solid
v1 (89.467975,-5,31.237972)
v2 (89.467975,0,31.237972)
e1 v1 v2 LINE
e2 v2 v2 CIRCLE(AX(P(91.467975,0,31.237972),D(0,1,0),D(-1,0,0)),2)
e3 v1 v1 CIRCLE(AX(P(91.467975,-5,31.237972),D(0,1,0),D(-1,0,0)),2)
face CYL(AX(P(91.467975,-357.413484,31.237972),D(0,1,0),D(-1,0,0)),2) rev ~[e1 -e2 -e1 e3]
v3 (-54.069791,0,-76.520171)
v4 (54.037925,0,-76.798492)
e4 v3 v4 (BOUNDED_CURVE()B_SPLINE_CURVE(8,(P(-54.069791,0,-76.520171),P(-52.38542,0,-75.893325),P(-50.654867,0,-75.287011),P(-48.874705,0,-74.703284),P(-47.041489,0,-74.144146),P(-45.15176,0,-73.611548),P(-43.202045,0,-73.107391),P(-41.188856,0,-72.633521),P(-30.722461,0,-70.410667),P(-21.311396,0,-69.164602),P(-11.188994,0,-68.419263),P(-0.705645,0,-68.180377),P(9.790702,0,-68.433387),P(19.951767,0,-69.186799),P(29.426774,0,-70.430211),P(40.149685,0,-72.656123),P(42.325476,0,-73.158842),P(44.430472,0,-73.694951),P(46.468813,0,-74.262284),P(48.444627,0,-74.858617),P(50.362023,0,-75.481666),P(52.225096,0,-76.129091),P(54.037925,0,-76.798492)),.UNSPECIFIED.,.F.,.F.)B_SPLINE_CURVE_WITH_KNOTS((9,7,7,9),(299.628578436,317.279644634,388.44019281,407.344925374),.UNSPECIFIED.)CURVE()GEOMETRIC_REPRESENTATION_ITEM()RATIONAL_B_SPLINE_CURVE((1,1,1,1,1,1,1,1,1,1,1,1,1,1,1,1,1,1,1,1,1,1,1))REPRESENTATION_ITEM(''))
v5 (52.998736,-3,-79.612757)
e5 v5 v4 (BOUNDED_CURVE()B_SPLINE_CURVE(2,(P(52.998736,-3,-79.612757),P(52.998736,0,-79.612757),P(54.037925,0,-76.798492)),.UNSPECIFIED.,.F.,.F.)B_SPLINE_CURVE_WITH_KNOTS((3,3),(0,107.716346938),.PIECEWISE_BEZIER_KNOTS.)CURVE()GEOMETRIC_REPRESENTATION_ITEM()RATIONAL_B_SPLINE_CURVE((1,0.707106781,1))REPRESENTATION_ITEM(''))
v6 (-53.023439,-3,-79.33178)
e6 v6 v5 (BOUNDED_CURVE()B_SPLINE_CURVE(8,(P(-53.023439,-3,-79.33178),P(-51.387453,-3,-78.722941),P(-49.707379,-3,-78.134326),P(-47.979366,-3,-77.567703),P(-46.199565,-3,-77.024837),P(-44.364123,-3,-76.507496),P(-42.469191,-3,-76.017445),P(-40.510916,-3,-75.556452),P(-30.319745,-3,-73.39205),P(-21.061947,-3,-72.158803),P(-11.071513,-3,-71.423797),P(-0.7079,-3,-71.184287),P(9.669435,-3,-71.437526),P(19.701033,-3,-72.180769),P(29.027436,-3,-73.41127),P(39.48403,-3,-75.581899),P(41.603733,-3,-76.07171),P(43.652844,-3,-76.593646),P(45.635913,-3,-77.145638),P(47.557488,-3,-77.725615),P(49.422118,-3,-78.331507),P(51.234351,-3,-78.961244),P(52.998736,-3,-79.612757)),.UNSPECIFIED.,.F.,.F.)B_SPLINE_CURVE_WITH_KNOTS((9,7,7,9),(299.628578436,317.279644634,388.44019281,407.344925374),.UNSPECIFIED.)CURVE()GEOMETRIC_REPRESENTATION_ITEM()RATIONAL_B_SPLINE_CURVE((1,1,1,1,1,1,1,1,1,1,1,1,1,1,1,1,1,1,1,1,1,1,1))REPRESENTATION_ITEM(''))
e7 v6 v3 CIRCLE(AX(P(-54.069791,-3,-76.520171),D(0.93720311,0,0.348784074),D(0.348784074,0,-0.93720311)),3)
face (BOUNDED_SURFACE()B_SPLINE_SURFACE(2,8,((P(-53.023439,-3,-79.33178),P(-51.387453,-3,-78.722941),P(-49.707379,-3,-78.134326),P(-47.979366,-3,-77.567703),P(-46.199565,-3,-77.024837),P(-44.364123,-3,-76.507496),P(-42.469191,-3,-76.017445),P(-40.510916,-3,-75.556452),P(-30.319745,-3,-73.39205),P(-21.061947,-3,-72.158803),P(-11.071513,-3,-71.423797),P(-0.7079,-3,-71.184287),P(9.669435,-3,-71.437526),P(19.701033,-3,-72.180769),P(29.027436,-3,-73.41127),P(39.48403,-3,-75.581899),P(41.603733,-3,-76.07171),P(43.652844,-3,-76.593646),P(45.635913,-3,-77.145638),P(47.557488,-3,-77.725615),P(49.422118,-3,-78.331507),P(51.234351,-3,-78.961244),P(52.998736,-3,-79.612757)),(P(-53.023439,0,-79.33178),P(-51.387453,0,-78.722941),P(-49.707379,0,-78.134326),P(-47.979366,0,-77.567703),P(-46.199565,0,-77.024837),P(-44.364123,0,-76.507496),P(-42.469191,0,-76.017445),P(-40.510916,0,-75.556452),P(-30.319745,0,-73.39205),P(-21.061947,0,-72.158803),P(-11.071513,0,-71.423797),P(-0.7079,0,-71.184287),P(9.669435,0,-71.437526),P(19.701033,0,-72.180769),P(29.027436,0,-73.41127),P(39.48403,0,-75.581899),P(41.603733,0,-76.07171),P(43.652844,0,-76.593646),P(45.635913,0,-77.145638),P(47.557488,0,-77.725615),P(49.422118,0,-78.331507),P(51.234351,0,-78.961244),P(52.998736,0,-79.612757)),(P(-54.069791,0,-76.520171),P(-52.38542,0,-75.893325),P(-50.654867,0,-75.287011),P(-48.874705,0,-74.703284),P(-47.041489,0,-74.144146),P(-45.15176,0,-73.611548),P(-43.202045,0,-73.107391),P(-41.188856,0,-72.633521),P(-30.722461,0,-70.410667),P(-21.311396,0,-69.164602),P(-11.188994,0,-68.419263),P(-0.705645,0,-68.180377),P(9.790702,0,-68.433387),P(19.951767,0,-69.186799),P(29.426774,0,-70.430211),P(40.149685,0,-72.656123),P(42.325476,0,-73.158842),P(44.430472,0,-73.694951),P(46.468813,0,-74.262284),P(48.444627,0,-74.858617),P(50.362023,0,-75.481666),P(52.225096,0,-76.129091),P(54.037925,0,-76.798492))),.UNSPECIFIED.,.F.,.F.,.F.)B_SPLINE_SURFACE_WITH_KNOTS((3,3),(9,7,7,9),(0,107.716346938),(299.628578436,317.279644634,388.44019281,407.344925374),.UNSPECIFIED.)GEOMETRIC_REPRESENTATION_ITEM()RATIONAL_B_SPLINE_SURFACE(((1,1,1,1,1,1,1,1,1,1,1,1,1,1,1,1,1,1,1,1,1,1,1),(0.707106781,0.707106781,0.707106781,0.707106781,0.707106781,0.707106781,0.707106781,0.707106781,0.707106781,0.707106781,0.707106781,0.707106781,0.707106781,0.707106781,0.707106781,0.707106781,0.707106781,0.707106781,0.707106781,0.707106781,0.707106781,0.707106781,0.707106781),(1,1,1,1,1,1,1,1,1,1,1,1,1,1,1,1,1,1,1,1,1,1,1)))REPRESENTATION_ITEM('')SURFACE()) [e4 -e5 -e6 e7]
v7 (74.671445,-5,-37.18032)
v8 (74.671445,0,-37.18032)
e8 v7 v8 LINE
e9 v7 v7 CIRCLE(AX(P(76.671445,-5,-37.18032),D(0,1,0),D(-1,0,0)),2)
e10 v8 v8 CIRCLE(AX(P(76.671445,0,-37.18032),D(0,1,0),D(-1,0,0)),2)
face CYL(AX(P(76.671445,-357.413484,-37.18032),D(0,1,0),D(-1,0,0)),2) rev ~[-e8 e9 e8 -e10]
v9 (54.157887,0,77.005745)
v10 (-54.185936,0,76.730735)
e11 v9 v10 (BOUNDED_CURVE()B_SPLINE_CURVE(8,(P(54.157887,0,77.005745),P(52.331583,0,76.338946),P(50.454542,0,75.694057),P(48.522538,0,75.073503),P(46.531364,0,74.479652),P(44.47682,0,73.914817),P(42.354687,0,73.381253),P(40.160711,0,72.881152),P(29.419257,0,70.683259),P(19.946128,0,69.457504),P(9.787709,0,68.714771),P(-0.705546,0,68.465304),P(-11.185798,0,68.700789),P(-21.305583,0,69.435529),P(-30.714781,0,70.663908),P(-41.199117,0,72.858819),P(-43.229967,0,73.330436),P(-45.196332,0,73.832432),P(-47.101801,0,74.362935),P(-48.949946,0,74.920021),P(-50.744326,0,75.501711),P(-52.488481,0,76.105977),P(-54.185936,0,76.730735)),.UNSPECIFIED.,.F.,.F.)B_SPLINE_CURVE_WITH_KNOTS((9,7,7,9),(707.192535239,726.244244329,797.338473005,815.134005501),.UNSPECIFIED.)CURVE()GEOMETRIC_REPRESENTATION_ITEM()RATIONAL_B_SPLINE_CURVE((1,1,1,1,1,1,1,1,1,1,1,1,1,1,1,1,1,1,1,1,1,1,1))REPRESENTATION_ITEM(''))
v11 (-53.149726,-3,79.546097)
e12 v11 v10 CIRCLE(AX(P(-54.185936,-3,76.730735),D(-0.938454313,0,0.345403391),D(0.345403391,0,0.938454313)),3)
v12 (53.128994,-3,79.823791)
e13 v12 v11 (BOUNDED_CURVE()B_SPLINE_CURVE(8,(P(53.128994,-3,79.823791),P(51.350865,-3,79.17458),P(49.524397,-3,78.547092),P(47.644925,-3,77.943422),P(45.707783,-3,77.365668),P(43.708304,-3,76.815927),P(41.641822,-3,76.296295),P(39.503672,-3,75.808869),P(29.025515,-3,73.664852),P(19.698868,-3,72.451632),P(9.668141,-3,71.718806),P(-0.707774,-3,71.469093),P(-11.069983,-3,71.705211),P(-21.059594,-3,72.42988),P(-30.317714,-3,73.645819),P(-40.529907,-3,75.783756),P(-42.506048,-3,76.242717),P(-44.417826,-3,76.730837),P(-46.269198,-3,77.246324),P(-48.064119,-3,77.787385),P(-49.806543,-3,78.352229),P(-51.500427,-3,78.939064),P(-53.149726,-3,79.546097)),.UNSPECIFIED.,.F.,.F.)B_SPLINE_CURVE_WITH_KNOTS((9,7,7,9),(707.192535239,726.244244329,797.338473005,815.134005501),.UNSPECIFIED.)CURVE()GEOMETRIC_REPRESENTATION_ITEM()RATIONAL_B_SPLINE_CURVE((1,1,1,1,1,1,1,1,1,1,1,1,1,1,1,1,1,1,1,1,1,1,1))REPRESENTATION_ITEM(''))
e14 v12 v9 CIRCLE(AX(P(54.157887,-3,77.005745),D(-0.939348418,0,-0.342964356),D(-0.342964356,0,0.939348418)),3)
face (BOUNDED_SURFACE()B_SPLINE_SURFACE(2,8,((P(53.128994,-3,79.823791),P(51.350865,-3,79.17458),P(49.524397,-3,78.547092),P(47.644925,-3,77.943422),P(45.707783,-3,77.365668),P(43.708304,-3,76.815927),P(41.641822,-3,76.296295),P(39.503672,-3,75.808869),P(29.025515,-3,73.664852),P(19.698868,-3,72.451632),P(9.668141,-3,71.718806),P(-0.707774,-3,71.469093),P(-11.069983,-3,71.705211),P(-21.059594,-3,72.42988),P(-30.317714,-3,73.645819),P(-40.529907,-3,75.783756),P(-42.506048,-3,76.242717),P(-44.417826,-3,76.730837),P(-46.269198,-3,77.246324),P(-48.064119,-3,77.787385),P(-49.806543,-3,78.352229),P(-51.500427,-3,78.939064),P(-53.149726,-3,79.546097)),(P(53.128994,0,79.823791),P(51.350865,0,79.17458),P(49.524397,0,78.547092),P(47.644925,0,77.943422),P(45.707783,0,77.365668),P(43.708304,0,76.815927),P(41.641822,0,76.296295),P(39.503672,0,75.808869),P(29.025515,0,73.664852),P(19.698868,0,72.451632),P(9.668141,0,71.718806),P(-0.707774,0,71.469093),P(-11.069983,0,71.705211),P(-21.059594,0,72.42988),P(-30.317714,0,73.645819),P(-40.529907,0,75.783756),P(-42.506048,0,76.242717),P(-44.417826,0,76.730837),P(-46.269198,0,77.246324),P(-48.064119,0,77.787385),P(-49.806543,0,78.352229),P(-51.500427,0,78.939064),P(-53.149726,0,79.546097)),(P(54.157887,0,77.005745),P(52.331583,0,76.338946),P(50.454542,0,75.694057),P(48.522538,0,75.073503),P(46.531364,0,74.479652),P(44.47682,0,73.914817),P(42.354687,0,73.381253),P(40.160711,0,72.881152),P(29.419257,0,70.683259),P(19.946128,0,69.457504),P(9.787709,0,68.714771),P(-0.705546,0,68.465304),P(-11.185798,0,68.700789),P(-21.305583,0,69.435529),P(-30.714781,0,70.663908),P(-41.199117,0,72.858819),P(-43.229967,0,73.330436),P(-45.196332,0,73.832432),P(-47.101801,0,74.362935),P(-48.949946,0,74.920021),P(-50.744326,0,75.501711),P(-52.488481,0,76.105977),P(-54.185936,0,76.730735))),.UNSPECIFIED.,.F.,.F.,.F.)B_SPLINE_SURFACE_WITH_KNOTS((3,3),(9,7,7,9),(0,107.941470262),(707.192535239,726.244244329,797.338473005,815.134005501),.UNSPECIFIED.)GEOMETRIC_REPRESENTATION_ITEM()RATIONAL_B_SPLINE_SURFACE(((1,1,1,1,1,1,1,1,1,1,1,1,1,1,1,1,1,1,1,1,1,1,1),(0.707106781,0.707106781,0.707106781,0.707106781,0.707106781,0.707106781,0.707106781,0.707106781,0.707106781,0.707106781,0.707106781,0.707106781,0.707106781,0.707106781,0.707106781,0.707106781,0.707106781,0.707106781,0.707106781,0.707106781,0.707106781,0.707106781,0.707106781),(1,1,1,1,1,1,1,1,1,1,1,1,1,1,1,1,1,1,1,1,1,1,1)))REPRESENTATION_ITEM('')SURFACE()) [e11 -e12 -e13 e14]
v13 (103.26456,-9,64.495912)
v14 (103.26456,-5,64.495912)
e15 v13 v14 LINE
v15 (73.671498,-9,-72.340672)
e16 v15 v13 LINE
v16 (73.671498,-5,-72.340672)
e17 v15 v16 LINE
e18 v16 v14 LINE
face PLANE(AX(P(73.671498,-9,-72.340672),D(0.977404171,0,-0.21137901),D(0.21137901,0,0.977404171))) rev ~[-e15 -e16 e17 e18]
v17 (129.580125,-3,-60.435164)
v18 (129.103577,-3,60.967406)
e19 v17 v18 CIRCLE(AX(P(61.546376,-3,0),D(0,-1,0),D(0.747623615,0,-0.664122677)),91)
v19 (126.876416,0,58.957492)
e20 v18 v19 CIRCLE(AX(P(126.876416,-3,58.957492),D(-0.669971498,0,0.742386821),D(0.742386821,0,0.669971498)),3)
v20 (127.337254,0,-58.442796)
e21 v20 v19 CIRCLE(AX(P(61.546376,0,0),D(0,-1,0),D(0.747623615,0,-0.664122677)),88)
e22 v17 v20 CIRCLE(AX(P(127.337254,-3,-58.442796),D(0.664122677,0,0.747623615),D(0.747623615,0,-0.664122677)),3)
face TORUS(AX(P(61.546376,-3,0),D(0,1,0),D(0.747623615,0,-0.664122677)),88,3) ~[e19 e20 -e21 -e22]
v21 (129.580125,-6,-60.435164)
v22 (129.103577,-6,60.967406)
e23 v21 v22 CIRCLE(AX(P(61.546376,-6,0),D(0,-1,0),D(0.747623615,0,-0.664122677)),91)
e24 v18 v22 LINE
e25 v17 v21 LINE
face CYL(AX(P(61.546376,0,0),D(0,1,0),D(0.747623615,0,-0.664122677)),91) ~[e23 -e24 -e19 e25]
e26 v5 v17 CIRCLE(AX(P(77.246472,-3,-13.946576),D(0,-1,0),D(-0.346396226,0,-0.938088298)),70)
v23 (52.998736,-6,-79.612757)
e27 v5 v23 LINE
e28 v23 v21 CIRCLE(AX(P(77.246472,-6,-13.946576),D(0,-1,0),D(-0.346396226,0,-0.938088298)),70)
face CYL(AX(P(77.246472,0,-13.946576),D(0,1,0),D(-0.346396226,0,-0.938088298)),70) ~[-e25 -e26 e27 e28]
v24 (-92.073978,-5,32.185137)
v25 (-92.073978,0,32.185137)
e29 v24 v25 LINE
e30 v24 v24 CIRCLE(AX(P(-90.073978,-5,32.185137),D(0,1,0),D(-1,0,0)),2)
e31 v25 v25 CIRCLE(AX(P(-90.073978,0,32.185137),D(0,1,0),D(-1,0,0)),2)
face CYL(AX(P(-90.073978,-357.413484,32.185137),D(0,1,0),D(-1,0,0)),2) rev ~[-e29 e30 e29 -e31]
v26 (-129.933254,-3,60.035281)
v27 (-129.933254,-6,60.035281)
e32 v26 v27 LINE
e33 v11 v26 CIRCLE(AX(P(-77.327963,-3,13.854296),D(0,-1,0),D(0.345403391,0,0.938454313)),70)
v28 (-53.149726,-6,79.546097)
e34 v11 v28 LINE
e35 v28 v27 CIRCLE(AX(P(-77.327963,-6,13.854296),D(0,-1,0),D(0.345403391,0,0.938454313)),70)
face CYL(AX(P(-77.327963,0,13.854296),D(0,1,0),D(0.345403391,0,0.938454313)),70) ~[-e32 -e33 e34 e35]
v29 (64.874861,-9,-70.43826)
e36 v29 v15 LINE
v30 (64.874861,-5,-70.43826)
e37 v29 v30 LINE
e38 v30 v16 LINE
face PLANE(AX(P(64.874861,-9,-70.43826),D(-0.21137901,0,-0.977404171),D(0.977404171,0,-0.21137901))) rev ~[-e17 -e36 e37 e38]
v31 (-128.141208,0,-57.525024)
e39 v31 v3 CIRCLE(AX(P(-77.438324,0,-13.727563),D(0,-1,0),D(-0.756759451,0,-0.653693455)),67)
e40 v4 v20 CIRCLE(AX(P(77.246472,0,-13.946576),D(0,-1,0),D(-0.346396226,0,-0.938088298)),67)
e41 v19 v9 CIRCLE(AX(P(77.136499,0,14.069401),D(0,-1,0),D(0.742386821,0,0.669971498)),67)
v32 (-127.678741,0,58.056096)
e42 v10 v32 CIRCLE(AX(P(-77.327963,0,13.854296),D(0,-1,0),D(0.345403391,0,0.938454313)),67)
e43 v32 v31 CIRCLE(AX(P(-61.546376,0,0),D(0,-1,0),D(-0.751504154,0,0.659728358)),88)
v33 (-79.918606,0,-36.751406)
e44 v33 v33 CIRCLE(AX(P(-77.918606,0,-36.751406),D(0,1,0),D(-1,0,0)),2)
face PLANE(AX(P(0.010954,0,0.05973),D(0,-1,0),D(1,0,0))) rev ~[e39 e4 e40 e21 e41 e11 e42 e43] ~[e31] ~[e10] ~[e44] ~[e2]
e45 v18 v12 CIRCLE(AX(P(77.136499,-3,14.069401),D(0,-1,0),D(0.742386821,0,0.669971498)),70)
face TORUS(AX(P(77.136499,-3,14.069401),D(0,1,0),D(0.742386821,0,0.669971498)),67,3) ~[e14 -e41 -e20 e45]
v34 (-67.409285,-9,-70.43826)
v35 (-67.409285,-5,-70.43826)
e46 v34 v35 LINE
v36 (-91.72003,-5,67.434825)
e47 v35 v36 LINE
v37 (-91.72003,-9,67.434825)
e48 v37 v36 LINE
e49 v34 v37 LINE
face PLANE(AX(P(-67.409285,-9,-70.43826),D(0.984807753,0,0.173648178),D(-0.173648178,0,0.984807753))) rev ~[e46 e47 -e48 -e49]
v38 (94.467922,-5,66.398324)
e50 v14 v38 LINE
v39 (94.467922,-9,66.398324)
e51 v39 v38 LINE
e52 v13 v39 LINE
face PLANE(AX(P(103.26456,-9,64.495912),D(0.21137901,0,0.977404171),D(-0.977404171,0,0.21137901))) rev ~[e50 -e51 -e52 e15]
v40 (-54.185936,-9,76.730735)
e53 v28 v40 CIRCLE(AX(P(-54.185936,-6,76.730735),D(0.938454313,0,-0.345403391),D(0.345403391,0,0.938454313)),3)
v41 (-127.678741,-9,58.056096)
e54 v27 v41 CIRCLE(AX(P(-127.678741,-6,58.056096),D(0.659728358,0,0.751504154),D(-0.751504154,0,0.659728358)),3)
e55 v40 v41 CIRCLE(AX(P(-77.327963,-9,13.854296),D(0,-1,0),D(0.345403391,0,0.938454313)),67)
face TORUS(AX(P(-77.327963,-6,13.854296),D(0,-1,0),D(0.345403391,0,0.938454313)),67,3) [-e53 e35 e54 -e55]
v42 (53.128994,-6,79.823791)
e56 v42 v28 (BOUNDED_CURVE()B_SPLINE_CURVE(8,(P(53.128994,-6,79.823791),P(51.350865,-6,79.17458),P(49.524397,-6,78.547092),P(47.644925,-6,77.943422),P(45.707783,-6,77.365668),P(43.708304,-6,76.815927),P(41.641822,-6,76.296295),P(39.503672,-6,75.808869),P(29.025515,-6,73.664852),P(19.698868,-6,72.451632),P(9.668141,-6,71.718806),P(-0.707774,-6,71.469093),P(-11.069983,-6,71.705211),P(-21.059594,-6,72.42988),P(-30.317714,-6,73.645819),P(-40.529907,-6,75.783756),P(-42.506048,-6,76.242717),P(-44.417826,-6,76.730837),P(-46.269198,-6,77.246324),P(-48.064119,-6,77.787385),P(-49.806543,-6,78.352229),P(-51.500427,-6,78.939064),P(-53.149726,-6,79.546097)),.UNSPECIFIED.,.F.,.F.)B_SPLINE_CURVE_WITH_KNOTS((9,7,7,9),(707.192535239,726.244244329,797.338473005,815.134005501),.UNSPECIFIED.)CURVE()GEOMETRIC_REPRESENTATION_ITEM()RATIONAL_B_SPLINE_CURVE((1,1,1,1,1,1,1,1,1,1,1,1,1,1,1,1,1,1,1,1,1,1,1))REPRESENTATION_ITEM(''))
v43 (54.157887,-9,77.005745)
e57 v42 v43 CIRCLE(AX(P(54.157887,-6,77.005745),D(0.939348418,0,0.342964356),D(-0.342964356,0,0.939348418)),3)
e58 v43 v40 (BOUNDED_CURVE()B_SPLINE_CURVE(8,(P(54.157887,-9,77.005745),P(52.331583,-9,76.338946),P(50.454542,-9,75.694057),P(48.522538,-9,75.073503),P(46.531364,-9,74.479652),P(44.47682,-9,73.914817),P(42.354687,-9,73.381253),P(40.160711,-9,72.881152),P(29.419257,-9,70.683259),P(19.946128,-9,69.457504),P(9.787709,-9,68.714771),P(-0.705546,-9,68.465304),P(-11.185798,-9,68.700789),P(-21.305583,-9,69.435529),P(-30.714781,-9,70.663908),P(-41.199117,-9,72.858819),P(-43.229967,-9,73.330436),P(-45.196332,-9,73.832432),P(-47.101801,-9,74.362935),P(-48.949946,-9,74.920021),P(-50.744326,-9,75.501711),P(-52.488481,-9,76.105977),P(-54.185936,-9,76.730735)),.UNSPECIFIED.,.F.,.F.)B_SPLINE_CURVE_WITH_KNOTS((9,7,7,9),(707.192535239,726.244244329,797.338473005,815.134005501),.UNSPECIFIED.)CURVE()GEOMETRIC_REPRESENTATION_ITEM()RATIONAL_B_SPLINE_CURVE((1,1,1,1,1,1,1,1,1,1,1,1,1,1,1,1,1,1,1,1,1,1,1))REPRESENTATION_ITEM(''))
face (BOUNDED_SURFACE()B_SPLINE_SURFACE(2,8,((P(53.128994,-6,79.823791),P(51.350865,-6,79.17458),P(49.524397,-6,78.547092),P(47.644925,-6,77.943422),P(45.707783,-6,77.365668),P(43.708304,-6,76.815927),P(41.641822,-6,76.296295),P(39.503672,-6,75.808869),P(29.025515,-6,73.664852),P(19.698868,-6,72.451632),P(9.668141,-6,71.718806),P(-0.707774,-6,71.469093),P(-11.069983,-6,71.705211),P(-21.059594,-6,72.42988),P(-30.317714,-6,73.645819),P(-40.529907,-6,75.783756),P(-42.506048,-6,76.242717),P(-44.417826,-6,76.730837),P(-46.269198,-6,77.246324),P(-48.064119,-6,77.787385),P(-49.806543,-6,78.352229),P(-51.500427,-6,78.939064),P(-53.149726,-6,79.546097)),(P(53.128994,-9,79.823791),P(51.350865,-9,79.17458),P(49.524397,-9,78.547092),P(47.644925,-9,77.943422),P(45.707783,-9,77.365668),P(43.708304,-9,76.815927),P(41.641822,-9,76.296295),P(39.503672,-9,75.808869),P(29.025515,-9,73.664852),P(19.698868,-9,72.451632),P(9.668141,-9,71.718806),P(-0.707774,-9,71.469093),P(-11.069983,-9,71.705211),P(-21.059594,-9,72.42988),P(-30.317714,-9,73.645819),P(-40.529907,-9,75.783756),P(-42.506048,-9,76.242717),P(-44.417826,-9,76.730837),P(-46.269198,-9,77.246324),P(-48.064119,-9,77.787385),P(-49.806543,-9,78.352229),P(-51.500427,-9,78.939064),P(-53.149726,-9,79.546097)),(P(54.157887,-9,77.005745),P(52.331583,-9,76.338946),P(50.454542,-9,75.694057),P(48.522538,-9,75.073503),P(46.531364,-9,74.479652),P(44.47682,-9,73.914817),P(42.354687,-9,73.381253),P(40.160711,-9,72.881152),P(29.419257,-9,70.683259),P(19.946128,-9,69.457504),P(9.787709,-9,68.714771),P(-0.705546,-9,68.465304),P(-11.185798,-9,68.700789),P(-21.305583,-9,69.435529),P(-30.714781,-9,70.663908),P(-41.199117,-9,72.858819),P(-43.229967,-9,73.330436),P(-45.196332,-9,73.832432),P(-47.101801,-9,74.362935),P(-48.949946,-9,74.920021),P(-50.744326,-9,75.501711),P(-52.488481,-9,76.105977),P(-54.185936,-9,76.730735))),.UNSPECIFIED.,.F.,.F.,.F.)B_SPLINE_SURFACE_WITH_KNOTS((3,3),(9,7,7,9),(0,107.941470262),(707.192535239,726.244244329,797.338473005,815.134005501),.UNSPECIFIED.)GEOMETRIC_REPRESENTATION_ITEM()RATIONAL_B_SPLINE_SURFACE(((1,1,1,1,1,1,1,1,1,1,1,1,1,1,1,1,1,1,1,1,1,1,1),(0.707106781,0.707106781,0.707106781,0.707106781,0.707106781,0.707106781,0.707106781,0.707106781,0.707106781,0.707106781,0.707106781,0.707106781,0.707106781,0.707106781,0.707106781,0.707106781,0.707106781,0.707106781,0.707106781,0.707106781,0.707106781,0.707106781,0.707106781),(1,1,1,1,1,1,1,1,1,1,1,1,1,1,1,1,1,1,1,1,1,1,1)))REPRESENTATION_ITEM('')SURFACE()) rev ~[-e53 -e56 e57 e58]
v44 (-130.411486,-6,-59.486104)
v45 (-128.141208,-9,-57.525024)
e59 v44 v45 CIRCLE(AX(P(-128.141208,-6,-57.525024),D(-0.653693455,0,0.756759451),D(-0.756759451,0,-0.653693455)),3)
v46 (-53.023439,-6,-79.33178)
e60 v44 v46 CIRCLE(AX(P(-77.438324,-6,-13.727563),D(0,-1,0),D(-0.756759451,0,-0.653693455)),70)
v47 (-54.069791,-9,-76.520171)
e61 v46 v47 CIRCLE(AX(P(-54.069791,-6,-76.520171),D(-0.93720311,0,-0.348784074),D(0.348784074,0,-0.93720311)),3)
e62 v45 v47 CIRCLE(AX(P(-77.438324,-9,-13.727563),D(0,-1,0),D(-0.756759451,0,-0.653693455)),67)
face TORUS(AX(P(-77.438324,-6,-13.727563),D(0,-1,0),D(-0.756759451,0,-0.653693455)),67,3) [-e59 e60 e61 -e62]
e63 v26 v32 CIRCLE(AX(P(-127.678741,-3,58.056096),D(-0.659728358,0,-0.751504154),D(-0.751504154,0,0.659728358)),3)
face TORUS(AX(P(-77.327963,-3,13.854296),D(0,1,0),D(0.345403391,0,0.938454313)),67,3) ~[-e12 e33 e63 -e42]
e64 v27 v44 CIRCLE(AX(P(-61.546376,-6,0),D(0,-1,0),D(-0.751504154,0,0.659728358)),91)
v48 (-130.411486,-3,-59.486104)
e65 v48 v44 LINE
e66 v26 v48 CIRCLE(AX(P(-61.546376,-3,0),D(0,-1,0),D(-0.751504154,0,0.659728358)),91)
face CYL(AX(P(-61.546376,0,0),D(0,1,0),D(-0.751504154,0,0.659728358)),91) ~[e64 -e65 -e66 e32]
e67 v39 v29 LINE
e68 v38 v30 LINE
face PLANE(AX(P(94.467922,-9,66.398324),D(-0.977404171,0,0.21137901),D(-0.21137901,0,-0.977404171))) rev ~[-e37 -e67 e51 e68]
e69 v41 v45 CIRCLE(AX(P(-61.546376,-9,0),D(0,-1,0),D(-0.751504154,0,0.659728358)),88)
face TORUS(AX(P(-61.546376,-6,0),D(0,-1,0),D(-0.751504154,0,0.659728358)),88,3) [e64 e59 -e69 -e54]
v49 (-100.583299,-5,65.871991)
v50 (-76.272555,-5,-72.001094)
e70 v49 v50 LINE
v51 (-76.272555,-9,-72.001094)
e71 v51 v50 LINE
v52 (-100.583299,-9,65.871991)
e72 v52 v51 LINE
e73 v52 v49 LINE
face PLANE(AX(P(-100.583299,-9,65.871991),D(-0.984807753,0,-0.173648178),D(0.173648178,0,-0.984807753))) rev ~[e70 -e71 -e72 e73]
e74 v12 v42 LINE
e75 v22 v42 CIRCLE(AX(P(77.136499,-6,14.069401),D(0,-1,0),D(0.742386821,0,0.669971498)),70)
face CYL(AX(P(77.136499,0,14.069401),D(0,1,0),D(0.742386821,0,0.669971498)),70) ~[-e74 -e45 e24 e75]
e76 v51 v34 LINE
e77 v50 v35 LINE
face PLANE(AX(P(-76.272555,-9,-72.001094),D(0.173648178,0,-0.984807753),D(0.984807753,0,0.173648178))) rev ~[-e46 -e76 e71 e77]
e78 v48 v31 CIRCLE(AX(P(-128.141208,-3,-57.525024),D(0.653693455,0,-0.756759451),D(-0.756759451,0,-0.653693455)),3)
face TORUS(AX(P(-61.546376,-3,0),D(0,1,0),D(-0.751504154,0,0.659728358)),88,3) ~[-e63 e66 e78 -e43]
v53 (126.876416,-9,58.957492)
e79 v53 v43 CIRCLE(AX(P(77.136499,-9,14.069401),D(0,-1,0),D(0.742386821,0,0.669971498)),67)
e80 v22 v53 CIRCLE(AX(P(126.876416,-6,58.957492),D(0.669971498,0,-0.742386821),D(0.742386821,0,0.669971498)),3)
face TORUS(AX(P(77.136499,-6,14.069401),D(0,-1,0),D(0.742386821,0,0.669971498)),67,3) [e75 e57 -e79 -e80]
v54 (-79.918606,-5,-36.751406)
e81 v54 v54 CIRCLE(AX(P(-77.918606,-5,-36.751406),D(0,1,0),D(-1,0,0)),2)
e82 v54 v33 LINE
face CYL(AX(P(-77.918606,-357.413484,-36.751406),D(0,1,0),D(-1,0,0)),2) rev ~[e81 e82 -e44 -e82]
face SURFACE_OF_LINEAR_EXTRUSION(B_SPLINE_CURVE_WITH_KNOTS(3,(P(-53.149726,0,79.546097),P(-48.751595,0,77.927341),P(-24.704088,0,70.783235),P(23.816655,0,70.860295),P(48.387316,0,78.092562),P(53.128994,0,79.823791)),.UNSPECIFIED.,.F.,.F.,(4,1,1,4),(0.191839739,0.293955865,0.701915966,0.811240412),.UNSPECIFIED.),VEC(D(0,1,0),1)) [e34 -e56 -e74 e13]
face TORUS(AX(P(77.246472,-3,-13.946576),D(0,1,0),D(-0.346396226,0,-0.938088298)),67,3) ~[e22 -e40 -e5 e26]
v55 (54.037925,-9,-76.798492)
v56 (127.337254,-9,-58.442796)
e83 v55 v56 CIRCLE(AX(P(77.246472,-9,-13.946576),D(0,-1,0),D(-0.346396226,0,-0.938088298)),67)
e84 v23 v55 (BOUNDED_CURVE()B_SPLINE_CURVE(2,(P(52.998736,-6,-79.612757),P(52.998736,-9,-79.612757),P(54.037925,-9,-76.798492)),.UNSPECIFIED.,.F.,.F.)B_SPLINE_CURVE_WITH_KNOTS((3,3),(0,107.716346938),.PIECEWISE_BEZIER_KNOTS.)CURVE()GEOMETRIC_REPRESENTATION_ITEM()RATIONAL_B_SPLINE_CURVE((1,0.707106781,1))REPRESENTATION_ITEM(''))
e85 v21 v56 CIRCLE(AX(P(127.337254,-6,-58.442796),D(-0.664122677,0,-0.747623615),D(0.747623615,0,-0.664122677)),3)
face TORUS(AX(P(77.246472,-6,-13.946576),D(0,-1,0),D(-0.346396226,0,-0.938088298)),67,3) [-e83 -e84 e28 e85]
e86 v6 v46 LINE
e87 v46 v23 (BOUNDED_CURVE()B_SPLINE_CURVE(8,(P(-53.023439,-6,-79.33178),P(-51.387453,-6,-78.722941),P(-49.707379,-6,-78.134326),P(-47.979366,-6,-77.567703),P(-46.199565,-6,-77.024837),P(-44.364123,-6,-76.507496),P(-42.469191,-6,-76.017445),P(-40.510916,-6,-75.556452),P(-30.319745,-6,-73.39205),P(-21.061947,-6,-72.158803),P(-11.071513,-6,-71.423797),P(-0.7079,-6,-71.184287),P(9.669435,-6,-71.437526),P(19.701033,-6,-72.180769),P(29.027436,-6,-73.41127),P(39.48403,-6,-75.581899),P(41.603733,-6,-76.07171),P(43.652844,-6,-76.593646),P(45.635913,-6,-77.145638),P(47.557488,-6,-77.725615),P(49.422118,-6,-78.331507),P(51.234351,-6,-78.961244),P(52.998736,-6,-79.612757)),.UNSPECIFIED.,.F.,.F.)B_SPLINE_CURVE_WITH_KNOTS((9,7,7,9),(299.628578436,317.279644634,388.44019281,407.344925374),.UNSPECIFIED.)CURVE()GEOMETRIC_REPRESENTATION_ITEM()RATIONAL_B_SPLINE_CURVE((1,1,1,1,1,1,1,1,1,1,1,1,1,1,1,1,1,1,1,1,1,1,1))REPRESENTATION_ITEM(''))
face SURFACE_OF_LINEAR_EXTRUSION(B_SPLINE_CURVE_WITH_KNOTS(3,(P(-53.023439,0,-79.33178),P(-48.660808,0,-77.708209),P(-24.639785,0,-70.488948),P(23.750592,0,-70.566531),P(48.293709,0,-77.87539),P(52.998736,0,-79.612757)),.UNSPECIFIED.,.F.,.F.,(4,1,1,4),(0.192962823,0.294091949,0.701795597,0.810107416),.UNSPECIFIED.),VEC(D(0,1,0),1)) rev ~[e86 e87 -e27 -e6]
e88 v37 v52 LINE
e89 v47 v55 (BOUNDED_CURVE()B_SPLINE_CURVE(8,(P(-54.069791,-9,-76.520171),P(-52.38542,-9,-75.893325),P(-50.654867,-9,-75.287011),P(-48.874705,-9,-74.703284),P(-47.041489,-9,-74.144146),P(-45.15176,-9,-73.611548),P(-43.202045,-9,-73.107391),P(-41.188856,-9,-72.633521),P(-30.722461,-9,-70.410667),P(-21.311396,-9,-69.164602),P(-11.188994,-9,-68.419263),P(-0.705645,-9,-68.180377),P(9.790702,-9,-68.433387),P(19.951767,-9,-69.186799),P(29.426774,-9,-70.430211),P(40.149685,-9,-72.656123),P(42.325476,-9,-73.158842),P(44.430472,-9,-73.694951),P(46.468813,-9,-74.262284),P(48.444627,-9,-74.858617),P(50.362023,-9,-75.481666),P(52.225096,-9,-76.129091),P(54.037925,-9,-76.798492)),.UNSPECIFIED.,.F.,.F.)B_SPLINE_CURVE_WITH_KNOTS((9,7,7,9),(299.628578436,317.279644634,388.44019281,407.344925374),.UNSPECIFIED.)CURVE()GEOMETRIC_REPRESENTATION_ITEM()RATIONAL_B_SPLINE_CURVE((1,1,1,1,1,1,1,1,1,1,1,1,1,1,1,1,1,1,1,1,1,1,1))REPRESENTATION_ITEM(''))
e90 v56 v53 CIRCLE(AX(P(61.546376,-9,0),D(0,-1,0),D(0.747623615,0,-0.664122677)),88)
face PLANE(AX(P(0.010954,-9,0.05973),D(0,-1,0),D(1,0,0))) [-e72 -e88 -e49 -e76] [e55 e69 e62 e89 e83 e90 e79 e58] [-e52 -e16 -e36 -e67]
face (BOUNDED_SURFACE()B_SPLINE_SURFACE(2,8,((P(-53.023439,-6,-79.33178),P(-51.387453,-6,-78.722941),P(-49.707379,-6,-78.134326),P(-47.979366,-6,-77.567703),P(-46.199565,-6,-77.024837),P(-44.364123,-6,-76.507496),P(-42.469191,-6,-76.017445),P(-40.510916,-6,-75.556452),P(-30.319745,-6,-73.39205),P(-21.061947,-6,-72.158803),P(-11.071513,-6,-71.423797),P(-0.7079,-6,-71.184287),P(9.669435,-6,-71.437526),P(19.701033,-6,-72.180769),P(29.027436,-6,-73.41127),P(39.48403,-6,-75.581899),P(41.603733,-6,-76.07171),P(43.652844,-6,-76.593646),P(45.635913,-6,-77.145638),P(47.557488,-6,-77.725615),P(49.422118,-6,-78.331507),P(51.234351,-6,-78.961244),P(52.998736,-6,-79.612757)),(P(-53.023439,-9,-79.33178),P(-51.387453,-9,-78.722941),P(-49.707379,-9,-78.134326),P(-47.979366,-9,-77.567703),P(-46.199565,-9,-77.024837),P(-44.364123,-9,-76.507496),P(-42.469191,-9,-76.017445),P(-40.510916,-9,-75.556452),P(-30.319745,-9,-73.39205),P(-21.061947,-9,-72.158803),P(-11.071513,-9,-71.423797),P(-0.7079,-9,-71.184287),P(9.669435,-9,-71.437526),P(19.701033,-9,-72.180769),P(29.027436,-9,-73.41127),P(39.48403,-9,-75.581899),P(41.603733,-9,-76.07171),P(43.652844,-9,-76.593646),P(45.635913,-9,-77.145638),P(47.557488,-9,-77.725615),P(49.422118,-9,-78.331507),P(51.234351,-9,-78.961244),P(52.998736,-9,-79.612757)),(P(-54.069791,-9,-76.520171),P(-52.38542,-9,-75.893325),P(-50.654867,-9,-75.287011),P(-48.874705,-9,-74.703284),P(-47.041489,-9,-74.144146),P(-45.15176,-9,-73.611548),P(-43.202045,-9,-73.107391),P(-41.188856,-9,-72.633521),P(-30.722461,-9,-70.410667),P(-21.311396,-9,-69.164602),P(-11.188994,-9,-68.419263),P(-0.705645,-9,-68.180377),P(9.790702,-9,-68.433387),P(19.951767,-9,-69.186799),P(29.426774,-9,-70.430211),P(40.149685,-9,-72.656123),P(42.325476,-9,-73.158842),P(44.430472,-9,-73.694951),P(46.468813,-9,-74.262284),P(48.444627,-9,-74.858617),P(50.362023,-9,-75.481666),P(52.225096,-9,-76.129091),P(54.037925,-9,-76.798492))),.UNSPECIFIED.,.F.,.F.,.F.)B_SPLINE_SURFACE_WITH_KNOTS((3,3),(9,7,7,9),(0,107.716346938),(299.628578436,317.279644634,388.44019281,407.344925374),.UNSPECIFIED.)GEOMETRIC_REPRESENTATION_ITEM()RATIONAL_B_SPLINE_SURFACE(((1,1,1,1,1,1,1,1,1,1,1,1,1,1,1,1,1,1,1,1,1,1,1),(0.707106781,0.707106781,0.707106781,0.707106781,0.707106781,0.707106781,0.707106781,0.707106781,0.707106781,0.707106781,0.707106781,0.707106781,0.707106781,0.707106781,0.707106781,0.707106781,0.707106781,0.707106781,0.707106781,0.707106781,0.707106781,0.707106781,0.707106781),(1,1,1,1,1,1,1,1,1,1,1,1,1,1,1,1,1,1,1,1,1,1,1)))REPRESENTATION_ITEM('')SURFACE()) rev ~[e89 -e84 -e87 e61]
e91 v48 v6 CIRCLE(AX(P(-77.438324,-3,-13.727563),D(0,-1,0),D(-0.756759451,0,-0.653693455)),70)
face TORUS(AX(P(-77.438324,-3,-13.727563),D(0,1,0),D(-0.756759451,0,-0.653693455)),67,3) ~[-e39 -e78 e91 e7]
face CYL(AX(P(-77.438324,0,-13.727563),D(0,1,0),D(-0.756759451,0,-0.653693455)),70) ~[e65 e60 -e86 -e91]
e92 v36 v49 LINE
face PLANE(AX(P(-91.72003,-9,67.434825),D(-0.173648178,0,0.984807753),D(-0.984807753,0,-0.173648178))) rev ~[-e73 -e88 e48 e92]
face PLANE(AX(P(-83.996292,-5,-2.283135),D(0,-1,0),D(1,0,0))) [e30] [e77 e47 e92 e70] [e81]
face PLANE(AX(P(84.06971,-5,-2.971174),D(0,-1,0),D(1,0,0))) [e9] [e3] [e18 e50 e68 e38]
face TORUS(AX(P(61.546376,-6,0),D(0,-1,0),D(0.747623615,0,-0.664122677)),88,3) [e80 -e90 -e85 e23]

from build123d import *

# Parameters (mm, degrees)
F1_DEPTH = 9
F3_R     = 3
F4_DEPTH = 4
F6_D     = 4


with BuildPart() as f1:
    # F0 (on Front) → F1 (new body)
    with BuildSketch(Plane.XZ):
        with BuildLine():
            ThreePointArc((-53.1497258364, 79.5460974403), (-94.56723042, 81.6982905812), (-129.933253949, 60.0352806103))
            ThreePointArc((-129.933253949, 60.0352806103), (-152.5456475155, 0.3641086136), (-130.4114859728, -59.4861044443))
            ThreePointArc((-130.4114859728, -59.4861044443), (-94.8267257051, -81.5334878267), (-53.0234392177, -79.3317802685))
            add(Edge.make_bspline(
                [(-53.0234392177, -79.3317802685), (-48.6608082648, -77.7082088333), (-24.6397852476, -70.4889476448), (23.7505923387, -70.5665306527), (48.2937092789, -77.8753902125), (52.9987360366, -79.6127570647)],
                knots=[0.192962823, 0.192962823, 0.192962823, 0.192962823, 0.2940919494, 0.7017955969, 0.810107416, 0.810107416, 0.810107416, 0.810107416], degree=3))
            ThreePointArc((52.9987360366, -79.6127570647), (94.2508745118, -81.8498183409), (129.5801249251, -60.4351636118))
            ThreePointArc((129.5801249251, -60.4351636118), (152.5456748781, 0.3572045933), (129.1035766867, 60.9674062841))
            ThreePointArc((129.1035766867, 60.9674062841), (93.9984455084, 82.0081589209), (53.1289942993, 79.8237907218))
            add(Edge.make_bspline(
                [(-53.1497258364, 79.5460974403), (-48.7515954924, 77.9273408187), (-24.7040875075, 70.7832354564), (23.8166554522, 70.8602953804), (48.3873163026, 78.0925624494), (53.1289942993, 79.8237907218)],
                knots=[0.1918397391, 0.1918397391, 0.1918397391, 0.1918397391, 0.2939558653, 0.7019159659, 0.8112404118, 0.8112404118, 0.8112404118, 0.8112404118], degree=3))
        make_face()
    extrude(amount=F1_DEPTH)

    # F3
    f3_edges = [f1.edges().sort_by_distance(p)[0] for p in [
        (-94.56723, -9, 81.698291),
        (0.004128, -9, 71.956269),
        (93.998446, -9, 82.008159),
        (152.545675, -9, 0.357205),
        (94.250875, -9, -81.849818),
        (0.002547, -9, -71.678393),
        (-94.826726, -9, -81.533488),
        (-152.545648, -9, 0.364109),
        (-94.56723, 0, 81.698291),
    ]]
    fillet(f3_edges, radius=F3_R)

    # F2 (on face) → F4 (cut)
    with BuildSketch(Plane.XZ.offset(9)):
        Polygon((94.4679220363, 66.3983235541), (64.8748605741, -70.4382604186), (73.6714981152, -72.3406715126), (103.2645595774, 64.4959124601), align=None)
        Polygon((-76.2725546155, -72.0010940176), (-67.4092848384, -70.4382604186), (-91.7200297117, 67.4348250031), (-100.5832994888, 65.8719914041), align=None)
    extrude(amount=-F4_DEPTH, mode=Mode.SUBTRACT)

    # F6 (through all)
    with Locations(Plane.XZ.offset(9)):
        with Locations((-90.0739783819, 32.1851368482), (-77.9186059453, -36.7514058626), (76.6714447102, -37.1803199724), (91.4679754413, 31.2379720139)):
            Hole(F6_D / 2)


solid = f1.part
